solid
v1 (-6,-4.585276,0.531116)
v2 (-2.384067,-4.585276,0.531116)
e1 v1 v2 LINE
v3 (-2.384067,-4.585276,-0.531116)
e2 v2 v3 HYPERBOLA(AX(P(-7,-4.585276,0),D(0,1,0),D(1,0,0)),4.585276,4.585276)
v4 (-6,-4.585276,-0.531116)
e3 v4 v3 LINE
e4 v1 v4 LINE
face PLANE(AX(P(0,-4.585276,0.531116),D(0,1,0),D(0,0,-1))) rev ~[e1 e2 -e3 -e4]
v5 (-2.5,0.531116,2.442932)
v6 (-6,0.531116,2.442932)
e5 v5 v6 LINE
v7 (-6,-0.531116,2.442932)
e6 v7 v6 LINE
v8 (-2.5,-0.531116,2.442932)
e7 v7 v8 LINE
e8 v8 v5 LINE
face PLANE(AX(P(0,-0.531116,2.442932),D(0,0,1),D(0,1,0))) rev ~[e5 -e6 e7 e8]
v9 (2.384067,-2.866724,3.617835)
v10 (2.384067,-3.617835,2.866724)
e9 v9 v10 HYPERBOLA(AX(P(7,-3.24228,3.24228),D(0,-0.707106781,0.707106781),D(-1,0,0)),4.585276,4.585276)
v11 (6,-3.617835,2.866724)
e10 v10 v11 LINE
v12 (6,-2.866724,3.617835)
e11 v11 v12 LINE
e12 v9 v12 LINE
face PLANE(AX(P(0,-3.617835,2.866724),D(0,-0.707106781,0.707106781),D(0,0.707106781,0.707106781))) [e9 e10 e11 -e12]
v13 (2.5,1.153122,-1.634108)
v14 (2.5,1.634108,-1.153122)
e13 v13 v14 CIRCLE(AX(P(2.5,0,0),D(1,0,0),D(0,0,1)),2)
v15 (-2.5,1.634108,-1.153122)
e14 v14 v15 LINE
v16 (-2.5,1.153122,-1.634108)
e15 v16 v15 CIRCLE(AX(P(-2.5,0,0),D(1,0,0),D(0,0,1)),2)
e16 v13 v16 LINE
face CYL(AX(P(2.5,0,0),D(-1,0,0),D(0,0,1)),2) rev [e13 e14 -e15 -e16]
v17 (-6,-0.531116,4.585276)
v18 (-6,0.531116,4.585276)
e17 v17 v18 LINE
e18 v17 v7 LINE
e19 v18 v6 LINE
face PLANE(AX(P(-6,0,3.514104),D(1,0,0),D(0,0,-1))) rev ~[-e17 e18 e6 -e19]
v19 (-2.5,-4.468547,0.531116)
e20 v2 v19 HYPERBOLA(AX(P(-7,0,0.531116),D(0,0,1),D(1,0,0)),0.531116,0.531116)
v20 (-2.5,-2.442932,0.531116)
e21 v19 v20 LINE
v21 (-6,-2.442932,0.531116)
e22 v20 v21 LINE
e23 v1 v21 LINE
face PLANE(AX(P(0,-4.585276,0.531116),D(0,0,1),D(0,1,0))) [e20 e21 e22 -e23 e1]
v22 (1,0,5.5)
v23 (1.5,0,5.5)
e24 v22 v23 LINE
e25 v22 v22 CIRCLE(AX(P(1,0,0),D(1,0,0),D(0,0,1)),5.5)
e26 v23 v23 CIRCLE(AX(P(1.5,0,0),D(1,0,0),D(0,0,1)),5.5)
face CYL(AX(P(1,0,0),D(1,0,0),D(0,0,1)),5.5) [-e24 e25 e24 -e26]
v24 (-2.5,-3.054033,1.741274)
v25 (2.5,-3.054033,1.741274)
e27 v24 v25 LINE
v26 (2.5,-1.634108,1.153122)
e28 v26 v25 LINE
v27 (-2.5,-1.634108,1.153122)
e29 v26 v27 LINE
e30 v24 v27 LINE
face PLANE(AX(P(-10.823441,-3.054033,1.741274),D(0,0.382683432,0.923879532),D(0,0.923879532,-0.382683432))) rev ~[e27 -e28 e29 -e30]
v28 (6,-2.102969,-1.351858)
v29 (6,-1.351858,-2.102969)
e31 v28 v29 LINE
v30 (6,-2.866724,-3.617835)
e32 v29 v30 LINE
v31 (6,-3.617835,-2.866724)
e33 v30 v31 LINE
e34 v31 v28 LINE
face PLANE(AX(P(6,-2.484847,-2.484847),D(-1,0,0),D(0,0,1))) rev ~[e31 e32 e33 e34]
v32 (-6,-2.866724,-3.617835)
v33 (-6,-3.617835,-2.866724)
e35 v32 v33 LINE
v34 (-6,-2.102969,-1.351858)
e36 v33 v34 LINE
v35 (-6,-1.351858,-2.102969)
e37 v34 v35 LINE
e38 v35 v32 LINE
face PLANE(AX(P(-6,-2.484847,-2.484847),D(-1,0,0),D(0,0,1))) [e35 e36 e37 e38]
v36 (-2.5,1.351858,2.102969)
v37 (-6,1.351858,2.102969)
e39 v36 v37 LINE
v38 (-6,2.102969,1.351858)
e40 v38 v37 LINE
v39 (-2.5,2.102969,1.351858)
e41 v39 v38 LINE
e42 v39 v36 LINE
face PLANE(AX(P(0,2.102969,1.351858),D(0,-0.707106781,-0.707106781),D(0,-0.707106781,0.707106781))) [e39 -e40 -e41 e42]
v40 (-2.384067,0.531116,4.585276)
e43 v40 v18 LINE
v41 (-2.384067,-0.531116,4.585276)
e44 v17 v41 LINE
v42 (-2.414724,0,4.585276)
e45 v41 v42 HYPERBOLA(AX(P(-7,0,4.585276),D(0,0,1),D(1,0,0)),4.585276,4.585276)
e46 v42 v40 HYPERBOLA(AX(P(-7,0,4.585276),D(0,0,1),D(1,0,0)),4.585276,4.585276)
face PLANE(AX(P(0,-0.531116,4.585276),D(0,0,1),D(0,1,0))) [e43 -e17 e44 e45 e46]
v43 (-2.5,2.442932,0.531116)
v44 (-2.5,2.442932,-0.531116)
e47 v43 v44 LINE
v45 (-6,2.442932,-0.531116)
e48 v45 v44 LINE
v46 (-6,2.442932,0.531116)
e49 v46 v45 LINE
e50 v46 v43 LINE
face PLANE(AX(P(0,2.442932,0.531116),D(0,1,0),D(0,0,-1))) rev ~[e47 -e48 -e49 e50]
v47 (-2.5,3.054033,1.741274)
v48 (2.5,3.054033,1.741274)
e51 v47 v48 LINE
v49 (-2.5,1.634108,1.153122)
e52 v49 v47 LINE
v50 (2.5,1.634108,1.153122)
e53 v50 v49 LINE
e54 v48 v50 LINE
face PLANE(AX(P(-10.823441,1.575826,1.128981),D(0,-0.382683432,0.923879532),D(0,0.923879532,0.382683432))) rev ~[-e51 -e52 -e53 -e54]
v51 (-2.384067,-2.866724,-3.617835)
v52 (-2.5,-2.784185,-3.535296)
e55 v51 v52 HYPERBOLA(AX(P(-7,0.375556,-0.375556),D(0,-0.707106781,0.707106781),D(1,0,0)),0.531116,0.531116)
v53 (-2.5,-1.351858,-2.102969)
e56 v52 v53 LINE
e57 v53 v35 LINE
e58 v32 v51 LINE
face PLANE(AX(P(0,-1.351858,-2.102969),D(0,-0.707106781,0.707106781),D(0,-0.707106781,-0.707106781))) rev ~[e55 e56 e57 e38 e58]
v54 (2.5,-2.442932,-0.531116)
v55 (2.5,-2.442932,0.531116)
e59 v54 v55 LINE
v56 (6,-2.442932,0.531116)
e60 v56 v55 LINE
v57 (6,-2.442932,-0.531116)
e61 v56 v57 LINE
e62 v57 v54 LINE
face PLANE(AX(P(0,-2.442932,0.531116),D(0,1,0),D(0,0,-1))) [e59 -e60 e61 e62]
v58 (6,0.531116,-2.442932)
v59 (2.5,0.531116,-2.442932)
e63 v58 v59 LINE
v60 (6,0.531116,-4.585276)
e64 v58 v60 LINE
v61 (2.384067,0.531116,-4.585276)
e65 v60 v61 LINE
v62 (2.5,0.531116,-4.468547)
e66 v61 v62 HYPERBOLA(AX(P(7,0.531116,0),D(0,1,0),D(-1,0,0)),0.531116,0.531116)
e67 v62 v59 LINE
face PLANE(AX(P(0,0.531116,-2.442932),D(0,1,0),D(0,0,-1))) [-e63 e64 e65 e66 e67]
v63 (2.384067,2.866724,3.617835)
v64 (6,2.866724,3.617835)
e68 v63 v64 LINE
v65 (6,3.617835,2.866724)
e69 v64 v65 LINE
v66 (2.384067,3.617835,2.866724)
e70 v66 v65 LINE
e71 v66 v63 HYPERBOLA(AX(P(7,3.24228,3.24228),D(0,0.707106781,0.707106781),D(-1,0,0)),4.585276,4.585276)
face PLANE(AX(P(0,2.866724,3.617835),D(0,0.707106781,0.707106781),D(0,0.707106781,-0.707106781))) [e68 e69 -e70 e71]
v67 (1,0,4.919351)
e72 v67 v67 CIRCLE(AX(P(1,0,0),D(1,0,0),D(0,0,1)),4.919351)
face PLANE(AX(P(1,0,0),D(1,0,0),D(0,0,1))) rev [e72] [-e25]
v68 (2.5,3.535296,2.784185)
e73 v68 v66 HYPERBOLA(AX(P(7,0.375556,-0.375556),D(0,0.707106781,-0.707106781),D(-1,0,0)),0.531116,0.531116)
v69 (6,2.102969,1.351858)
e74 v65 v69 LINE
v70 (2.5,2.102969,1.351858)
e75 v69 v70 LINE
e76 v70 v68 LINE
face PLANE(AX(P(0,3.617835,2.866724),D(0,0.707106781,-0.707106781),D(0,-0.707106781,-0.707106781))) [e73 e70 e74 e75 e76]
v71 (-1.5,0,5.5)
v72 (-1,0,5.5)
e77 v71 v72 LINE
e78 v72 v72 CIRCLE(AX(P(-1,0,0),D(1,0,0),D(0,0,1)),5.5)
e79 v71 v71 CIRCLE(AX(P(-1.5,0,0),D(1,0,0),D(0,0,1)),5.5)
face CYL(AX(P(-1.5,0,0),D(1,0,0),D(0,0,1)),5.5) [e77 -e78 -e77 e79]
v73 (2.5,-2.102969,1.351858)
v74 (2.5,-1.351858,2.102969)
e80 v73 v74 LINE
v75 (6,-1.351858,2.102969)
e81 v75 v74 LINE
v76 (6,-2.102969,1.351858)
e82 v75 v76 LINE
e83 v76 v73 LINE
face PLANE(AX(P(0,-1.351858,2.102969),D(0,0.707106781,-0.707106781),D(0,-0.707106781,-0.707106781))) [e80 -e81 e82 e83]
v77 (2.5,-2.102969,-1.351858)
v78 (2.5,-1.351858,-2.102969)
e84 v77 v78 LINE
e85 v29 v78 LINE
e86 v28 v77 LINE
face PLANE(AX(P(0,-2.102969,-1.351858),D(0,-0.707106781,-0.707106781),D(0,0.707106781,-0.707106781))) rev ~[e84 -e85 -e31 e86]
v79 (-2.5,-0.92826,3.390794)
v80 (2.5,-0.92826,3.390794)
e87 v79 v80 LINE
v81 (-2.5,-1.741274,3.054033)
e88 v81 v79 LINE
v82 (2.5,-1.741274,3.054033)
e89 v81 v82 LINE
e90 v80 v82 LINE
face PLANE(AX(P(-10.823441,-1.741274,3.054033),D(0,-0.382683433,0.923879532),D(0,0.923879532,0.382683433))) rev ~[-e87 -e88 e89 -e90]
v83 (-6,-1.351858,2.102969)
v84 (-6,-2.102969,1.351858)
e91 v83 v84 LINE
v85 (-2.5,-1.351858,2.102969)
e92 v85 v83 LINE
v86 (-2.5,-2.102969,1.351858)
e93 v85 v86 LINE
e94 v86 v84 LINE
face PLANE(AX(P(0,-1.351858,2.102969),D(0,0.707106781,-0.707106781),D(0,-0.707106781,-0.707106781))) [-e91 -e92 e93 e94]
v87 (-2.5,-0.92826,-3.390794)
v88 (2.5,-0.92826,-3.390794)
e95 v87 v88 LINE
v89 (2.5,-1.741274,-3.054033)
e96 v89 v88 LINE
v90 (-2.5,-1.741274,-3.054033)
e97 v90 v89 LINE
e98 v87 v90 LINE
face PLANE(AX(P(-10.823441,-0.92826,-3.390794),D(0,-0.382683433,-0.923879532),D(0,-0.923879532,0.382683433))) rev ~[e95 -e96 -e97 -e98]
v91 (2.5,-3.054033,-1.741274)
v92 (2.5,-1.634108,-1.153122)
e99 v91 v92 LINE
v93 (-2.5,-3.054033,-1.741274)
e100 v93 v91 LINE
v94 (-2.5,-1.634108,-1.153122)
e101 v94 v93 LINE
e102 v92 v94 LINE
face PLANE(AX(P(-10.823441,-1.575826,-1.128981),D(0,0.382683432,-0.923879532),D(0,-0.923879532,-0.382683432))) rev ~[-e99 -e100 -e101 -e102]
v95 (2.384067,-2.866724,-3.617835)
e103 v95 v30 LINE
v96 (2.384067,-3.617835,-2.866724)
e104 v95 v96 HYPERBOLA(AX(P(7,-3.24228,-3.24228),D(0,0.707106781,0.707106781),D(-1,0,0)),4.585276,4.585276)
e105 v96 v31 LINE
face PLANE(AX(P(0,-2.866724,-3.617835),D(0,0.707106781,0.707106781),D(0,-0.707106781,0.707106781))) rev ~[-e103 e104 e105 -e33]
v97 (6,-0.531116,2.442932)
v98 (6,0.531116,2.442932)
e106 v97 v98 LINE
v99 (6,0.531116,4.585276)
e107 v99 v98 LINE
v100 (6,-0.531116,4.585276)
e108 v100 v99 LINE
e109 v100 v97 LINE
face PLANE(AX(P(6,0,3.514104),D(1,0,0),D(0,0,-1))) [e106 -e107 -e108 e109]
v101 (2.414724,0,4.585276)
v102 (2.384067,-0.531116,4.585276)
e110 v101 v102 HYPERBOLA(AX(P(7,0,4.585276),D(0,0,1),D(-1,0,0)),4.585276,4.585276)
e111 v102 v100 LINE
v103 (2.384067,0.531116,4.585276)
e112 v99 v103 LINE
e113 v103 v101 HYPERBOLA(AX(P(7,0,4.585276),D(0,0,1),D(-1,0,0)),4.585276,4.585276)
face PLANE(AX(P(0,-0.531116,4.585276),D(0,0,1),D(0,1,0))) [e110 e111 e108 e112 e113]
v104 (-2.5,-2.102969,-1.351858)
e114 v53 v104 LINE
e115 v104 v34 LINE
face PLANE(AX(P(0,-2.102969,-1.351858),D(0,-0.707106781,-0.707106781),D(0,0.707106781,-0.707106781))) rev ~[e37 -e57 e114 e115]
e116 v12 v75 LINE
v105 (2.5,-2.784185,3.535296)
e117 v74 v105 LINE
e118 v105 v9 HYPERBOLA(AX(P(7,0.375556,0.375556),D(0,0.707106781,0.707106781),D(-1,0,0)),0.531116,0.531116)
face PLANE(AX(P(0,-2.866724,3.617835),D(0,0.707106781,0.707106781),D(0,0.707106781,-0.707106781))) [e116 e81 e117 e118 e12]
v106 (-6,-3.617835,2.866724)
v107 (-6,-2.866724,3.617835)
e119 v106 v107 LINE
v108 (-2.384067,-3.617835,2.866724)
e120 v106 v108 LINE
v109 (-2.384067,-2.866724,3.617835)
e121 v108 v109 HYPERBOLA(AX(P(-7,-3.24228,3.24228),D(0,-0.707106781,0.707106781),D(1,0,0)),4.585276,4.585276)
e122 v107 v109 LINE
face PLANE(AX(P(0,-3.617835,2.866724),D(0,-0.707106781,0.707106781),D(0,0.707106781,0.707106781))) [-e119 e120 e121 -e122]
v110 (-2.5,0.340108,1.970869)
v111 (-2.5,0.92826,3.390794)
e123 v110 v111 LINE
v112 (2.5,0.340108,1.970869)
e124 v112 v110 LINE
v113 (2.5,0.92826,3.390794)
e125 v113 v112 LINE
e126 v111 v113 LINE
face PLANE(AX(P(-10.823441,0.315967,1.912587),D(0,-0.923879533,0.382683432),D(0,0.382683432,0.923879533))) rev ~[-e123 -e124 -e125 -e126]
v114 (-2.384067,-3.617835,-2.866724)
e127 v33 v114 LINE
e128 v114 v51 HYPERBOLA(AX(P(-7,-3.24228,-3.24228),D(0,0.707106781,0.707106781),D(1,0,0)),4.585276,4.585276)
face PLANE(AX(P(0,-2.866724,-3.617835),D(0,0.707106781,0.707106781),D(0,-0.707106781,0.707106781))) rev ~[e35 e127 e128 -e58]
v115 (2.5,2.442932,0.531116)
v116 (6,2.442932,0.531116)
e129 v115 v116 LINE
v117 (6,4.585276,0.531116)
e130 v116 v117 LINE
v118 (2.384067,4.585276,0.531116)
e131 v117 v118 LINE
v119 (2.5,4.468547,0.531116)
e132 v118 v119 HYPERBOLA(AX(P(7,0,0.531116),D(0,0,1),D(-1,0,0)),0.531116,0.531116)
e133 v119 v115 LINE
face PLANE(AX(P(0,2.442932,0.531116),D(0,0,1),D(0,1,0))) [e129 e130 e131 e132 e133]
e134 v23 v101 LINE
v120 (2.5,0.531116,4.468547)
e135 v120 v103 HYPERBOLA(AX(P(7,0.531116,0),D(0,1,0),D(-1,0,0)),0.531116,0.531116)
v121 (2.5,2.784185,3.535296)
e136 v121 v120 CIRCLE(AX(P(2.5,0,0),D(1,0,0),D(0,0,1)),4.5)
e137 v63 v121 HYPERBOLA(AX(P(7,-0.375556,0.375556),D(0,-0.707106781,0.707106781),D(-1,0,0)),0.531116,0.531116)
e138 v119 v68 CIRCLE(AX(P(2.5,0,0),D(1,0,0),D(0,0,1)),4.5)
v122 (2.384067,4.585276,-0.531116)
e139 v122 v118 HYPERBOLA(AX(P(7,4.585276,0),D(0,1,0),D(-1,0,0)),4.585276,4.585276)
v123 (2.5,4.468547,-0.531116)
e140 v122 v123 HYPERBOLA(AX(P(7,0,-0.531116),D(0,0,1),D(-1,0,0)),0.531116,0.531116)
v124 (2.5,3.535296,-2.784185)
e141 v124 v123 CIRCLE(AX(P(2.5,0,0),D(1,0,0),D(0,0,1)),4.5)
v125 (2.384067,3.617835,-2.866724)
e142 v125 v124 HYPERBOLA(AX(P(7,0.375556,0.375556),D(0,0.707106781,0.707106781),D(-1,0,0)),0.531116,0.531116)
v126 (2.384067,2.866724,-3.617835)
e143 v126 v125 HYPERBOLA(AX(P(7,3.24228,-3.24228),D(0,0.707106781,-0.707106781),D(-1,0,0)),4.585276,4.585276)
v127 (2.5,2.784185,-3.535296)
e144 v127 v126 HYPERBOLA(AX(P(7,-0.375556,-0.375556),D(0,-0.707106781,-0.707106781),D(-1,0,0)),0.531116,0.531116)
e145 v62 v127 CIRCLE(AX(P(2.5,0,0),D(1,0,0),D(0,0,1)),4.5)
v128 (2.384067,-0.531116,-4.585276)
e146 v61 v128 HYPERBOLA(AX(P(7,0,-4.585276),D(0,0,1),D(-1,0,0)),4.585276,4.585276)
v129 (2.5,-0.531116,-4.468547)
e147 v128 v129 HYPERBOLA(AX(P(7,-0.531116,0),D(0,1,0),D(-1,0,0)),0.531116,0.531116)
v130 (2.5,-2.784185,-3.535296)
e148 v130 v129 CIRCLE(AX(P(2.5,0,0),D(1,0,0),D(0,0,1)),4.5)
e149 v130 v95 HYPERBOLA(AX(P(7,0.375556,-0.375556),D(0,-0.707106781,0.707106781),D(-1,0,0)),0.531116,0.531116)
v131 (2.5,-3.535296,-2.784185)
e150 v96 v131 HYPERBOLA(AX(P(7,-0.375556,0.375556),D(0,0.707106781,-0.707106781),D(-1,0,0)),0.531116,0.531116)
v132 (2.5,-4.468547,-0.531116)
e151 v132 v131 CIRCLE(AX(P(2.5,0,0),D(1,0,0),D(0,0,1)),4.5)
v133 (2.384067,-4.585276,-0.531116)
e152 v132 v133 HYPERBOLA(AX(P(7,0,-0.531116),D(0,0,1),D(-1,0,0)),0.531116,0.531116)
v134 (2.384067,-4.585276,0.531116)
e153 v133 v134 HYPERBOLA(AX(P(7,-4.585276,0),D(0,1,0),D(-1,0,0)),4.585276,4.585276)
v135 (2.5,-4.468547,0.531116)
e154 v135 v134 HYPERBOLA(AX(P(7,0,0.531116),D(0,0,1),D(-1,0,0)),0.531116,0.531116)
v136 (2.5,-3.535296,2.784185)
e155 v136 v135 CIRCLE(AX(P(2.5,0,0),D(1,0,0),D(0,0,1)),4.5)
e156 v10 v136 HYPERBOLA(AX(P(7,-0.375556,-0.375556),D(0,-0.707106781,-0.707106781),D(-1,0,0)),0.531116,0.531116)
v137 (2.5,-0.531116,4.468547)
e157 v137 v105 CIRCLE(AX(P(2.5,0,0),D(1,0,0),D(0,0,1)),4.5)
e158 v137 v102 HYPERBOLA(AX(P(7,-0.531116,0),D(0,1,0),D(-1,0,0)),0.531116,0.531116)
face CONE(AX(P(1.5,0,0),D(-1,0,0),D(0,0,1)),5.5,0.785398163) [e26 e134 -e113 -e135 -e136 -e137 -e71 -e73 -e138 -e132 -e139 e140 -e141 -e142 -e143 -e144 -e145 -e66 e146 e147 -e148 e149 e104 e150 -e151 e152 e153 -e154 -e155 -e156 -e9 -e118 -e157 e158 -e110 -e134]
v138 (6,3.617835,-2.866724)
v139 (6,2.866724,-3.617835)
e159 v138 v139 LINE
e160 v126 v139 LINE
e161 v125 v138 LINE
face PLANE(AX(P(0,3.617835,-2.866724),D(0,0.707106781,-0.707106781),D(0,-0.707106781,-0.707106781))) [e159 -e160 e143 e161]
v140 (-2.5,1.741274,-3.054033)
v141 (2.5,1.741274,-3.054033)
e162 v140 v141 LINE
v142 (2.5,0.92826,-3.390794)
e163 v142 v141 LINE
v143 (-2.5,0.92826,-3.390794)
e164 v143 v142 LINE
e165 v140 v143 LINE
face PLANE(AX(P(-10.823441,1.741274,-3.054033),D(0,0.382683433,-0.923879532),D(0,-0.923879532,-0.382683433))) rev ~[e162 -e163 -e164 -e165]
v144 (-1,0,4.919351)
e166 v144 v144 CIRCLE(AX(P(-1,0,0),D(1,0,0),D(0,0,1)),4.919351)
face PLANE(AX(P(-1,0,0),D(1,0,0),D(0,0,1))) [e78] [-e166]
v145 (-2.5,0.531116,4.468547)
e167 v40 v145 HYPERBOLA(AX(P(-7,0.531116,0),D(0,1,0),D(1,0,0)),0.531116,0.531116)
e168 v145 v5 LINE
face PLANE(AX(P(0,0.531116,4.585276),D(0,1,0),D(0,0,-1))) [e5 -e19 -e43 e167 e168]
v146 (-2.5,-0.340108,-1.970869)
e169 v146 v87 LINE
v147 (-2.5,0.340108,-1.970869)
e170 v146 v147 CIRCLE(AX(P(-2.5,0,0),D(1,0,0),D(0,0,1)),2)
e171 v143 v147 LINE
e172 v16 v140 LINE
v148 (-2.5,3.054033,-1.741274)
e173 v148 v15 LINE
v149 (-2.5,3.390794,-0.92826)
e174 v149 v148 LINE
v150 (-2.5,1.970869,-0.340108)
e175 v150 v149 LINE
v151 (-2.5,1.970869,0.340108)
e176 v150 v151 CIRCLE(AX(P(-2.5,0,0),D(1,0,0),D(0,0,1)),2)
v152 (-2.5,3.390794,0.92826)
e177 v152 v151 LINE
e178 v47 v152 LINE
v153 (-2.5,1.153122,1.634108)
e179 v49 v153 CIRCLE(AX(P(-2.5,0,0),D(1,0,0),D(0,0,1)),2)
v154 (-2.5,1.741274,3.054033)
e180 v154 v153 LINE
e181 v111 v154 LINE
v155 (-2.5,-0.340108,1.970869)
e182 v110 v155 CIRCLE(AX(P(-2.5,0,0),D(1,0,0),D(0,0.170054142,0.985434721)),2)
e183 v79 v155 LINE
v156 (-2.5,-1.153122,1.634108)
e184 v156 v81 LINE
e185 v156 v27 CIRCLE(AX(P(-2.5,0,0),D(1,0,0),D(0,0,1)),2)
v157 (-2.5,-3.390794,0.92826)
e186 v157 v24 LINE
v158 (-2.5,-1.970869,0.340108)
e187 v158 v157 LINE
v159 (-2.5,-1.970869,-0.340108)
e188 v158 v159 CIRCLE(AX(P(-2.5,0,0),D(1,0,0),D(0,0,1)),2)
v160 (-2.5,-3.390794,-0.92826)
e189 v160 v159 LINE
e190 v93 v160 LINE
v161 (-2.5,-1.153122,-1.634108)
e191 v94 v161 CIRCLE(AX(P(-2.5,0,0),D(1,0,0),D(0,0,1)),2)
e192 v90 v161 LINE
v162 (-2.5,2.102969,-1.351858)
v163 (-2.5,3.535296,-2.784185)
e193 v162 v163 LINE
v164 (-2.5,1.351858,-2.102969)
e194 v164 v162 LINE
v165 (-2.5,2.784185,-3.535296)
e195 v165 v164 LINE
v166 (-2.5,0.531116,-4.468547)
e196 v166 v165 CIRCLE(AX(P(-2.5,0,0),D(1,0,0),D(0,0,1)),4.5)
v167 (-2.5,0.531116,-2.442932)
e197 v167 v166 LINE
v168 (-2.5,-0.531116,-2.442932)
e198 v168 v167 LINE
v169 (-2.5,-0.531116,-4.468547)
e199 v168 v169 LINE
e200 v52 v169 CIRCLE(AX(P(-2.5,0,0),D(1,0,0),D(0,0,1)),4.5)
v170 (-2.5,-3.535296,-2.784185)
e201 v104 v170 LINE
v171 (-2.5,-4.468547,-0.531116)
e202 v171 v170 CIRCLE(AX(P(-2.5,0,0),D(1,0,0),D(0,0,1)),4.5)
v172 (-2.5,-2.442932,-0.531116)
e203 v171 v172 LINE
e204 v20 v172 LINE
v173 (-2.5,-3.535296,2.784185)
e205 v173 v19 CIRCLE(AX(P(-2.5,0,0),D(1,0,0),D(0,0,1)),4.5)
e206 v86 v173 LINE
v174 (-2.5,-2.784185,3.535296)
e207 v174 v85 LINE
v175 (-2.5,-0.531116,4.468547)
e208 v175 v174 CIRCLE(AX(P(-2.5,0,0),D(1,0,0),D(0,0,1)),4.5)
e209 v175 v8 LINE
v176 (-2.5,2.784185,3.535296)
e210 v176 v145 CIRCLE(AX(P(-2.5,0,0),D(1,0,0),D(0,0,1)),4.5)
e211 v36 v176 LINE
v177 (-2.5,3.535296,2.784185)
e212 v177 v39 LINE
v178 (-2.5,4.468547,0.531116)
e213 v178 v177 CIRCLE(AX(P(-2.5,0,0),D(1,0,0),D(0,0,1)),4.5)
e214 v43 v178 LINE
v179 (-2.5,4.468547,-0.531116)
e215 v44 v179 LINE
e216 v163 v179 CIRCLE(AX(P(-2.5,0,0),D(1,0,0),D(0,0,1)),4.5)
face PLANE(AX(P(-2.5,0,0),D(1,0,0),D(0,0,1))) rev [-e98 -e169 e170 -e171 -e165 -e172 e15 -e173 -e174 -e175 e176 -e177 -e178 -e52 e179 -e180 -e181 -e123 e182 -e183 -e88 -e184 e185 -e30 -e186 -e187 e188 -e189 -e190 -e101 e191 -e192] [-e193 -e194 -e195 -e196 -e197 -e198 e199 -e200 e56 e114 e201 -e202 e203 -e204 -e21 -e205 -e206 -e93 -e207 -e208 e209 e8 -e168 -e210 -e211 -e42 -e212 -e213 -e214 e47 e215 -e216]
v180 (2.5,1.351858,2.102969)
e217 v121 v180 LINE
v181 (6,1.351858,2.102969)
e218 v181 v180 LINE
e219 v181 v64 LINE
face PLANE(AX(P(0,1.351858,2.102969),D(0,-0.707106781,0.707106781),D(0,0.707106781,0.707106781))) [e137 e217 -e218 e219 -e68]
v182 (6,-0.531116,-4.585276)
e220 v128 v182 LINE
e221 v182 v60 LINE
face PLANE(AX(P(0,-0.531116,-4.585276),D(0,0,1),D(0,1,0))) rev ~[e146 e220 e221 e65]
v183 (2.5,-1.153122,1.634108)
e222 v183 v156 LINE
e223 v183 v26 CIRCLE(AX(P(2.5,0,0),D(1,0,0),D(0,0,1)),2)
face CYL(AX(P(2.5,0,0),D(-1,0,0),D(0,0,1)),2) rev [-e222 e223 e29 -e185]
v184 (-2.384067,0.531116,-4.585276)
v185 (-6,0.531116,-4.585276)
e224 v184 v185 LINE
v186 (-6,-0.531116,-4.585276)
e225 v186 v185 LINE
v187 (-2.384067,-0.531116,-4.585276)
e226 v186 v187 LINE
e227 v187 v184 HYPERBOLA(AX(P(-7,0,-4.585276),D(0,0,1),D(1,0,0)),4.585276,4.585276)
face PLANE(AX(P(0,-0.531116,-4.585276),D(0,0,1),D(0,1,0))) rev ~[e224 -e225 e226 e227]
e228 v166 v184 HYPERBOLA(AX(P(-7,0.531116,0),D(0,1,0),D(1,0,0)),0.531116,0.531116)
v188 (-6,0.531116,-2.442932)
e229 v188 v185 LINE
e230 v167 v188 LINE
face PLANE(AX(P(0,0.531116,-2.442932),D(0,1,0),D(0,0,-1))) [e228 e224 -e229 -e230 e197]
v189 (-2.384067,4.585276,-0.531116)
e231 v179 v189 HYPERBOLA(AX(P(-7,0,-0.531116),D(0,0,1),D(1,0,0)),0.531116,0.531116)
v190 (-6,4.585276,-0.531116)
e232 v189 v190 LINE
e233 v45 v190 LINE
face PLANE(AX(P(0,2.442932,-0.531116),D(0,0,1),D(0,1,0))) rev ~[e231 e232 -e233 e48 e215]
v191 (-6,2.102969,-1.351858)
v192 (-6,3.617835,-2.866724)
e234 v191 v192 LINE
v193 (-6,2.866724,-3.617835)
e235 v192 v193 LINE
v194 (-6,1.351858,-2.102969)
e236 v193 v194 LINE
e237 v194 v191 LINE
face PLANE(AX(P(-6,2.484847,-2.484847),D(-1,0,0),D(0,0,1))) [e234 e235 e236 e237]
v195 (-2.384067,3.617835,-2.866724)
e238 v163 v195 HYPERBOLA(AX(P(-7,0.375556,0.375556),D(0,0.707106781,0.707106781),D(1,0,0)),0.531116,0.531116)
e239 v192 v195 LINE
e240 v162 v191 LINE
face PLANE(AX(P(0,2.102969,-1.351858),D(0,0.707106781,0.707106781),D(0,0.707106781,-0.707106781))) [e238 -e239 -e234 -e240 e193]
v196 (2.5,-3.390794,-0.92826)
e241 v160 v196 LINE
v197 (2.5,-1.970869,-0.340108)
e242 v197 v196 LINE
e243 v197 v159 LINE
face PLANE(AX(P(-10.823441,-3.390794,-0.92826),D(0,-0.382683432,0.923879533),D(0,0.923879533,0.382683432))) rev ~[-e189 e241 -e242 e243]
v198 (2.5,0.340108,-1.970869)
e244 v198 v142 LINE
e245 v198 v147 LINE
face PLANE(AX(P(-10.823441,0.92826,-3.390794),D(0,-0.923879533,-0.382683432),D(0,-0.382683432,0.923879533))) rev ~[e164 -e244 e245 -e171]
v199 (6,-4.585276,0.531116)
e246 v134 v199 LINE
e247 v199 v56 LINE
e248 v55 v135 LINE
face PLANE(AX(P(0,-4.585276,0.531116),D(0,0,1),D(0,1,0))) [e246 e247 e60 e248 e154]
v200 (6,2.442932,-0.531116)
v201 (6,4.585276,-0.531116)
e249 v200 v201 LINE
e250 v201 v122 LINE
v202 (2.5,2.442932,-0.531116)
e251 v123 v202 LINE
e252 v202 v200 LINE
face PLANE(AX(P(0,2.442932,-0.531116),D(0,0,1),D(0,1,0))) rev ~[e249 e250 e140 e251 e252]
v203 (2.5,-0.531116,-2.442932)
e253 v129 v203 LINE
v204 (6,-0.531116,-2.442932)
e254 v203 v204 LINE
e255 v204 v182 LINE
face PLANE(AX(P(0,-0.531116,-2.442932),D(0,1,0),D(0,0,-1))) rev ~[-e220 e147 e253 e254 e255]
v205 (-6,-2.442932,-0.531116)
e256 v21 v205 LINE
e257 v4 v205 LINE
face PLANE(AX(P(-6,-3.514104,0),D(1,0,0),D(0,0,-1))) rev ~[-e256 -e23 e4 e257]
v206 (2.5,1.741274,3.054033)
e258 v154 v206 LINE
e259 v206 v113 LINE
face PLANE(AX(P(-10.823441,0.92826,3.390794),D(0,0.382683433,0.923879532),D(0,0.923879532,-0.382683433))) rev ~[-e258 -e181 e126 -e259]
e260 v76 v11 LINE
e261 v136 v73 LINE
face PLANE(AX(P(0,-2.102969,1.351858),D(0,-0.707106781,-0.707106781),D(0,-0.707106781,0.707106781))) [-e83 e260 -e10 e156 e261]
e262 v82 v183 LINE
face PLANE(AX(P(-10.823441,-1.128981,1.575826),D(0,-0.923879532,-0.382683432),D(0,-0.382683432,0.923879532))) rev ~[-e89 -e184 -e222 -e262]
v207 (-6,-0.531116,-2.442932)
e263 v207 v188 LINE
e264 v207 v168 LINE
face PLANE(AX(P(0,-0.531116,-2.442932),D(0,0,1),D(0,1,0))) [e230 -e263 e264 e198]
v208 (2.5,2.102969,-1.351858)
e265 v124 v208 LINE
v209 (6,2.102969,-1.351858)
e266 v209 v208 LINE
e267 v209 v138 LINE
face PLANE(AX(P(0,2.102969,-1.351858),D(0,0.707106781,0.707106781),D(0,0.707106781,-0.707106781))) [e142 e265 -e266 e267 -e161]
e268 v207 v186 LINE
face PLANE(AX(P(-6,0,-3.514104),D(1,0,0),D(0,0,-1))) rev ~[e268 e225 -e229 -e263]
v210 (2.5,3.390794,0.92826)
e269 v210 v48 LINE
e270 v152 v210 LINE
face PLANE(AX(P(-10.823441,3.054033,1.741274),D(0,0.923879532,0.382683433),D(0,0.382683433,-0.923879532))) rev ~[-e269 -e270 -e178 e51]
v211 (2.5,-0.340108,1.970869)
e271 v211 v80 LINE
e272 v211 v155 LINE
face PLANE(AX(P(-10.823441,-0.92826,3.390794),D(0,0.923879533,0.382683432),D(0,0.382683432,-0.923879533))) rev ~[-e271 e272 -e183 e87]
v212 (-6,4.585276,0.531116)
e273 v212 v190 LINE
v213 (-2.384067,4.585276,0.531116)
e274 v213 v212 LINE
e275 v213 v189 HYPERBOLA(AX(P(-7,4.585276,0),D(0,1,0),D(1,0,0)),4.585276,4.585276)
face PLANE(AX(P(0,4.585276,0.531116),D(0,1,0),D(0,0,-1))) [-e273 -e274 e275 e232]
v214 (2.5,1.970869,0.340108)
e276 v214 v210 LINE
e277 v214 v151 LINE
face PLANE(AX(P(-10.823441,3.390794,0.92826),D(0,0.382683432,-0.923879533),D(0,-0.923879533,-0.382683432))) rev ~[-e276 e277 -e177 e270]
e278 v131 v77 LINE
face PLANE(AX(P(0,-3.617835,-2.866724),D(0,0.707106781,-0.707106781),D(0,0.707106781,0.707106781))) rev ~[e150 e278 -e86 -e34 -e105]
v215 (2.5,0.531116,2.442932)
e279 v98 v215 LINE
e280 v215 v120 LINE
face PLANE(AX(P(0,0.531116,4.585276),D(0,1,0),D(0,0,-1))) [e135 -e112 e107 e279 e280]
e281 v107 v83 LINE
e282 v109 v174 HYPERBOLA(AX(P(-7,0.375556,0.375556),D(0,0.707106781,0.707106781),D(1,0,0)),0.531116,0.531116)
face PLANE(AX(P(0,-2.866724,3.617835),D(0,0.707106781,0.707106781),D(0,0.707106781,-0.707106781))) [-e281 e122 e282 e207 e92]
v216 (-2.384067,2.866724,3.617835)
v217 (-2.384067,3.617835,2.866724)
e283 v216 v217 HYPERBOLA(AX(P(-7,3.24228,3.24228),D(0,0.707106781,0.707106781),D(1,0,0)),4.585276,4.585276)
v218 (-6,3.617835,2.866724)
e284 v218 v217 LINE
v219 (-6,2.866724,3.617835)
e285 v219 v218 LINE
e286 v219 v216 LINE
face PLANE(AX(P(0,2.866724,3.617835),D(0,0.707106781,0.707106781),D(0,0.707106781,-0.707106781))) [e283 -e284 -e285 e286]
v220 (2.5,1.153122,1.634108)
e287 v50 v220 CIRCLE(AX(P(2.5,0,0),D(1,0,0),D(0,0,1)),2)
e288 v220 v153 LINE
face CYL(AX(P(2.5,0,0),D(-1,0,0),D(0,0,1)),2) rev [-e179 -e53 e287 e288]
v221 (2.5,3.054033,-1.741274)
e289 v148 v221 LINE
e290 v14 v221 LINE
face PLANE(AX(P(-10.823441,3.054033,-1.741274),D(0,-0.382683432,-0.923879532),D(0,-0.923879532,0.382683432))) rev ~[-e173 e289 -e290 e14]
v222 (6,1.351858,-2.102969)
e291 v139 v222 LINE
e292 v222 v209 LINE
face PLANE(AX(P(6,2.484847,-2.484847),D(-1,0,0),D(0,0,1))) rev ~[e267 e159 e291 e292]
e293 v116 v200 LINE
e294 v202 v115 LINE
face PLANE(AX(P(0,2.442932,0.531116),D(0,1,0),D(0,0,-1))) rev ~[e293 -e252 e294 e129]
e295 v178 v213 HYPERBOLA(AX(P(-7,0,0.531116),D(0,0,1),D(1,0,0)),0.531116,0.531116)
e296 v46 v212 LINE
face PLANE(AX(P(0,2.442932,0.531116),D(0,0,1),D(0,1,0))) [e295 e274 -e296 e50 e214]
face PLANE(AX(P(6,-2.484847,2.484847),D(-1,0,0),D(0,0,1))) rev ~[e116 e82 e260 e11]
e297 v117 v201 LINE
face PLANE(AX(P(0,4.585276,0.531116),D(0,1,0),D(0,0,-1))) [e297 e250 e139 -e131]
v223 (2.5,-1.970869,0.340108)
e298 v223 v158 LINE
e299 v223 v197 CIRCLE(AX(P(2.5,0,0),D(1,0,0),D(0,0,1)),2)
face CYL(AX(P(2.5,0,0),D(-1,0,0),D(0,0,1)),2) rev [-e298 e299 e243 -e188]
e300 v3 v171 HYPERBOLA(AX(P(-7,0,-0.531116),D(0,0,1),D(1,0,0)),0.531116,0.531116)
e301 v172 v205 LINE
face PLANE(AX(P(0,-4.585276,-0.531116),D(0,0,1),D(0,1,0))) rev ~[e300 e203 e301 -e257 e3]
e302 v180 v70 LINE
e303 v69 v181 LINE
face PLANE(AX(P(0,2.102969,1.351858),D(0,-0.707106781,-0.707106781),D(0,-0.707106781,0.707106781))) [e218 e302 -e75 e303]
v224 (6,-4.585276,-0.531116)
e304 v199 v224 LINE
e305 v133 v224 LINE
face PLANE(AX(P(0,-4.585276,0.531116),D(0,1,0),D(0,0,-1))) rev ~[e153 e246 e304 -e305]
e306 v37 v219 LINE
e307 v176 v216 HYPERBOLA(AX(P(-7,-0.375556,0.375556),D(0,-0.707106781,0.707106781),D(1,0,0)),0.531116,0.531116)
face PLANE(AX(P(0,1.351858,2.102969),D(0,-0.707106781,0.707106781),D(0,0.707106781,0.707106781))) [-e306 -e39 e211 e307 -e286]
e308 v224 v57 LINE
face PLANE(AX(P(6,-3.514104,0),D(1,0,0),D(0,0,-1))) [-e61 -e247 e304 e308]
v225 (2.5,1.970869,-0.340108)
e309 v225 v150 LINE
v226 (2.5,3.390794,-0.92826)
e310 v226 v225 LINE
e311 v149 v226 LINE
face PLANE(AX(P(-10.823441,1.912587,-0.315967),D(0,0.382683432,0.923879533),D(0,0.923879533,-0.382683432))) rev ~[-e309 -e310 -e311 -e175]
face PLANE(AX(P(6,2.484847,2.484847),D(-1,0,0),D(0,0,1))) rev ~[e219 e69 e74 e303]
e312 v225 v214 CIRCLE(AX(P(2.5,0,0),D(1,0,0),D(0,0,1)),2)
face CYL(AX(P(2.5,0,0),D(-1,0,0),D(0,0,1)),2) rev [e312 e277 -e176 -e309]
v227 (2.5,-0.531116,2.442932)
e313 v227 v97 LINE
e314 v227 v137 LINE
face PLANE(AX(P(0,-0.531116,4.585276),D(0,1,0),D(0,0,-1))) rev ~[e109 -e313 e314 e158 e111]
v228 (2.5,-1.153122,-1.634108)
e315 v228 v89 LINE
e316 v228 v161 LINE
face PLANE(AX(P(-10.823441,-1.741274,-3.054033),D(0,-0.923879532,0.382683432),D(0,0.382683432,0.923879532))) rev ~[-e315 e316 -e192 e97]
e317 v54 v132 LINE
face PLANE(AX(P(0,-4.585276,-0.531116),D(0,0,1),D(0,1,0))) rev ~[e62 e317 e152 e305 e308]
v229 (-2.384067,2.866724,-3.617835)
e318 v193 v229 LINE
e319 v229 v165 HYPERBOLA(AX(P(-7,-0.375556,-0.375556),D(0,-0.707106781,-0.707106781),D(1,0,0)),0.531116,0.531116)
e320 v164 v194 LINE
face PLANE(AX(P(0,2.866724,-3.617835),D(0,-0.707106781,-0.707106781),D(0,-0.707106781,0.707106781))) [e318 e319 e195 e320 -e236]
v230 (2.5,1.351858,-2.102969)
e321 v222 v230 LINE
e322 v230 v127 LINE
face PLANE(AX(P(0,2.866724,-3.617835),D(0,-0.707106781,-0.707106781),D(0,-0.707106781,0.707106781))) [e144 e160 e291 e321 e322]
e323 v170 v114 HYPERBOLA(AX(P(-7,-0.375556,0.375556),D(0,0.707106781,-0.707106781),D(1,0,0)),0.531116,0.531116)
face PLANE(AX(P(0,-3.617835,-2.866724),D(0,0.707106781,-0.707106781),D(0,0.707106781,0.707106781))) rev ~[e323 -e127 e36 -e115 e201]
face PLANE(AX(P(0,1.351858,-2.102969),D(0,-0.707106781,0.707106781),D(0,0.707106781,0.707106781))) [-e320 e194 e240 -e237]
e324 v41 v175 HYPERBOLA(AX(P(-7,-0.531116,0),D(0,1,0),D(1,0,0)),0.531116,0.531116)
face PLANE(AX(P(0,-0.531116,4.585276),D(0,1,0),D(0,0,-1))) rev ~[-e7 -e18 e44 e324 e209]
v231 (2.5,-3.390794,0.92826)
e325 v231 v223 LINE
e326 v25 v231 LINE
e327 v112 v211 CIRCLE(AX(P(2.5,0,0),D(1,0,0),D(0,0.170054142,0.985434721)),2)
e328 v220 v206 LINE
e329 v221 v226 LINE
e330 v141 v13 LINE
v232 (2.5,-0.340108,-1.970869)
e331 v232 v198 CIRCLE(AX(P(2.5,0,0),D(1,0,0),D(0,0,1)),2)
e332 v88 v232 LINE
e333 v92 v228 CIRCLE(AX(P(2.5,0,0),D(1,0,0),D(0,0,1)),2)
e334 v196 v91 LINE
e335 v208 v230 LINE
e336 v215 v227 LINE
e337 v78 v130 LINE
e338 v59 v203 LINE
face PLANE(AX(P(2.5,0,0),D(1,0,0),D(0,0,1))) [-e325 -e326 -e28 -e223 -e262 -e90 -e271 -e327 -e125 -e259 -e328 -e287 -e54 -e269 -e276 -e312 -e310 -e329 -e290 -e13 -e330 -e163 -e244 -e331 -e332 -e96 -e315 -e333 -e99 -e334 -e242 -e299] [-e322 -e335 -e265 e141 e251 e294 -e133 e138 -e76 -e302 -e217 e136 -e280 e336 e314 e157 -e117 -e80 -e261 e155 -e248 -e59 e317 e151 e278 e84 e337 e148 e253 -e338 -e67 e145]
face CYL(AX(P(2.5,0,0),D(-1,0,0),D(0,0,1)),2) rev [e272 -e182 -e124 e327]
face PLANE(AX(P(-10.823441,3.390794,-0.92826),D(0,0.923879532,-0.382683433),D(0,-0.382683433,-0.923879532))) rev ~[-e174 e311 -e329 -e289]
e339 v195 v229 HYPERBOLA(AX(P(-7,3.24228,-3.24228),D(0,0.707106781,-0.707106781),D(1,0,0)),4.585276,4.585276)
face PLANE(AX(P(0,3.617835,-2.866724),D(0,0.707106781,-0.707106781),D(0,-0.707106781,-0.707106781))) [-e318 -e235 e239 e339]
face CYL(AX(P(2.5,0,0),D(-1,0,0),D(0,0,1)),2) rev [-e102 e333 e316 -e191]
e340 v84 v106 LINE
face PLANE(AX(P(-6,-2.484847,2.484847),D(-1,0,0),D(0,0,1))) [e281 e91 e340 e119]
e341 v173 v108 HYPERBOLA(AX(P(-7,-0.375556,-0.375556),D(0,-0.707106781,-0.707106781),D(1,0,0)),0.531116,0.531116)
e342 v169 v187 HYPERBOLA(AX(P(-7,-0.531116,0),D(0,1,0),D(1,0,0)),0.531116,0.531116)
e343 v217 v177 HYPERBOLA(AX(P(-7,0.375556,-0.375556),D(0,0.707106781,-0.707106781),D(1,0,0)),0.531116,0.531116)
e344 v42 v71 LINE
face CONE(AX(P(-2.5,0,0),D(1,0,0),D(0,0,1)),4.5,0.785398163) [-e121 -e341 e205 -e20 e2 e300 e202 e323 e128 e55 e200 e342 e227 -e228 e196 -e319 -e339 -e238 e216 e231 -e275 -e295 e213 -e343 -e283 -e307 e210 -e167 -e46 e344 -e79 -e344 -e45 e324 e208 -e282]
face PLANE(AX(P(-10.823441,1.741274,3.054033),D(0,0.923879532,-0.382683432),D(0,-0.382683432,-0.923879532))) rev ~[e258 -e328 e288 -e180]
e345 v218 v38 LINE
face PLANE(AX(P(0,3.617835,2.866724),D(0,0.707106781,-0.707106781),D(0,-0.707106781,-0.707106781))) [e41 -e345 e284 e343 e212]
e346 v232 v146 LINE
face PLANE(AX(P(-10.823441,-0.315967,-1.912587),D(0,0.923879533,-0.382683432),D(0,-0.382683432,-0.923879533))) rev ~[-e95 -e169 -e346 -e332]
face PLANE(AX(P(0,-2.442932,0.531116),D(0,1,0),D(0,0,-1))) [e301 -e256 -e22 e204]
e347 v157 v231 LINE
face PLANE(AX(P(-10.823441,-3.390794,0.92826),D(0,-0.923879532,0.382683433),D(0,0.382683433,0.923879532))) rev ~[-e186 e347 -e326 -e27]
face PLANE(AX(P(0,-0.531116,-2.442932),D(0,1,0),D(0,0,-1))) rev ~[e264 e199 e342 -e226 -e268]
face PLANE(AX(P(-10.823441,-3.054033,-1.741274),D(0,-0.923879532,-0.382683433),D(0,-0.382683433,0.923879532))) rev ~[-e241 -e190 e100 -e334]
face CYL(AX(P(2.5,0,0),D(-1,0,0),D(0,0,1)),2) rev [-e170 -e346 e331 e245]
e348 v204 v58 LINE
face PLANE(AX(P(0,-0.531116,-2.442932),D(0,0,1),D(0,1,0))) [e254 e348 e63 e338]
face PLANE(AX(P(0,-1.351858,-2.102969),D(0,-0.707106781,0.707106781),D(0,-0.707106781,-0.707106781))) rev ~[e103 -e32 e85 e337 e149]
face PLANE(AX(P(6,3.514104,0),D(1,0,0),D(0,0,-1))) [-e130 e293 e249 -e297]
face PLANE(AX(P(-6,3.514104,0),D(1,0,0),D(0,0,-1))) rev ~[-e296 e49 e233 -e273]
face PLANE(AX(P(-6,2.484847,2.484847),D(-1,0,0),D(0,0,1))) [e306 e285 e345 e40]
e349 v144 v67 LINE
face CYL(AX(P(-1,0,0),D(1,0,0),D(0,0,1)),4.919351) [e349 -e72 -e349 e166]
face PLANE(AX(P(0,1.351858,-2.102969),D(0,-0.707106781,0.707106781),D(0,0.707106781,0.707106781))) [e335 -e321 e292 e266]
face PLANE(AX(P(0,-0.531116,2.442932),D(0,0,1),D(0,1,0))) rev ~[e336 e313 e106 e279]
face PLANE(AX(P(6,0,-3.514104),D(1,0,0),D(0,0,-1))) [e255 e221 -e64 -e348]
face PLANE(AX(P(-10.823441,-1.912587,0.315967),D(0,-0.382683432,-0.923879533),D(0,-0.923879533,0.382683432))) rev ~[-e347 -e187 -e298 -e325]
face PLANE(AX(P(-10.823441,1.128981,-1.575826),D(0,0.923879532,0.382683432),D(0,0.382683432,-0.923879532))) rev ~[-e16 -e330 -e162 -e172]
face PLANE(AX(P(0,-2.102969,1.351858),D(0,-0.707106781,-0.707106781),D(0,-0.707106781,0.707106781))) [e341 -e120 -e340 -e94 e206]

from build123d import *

# Parameters (mm, degrees)
SKETCH1_W               = 1.062231574
SKETCH1_H               = 2.14234413
SKETCH1_W_2             = 2.14234413
SKETCH1_H_2             = 1.062231574
BOSS_EXTRUDE3_DEPTH     = 6
CUT_EXTRUDE1_DEPTH      = 10.823441352
CUT_EXTRUDE1_DEPTH_BACK = 10.823441352


with BuildPart() as part:
    # Sketch3 → Revolve1 (revolve)
    with BuildSketch(Plane(origin=(0, 0, 0), x_dir=(1, 0, 0), z_dir=(0, 1, 0)), mode=Mode.PRIVATE) as revolve1_sk:
        Polygon((1, 5.5), (1.5, 5.5), (2.5, 4.5), (2.5, 2), (-2.5, 2), (-2.5, 4.5), (-1.5, 5.5), (-1, 5.5), (-1, 4.919351403), (1, 4.919351403), align=None)
    revolve(revolve1_sk.sketch.rotate(Axis((0, 0, 0), (1, 0, 0)), 180), axis=Axis((0, 0, 0), (1, 0, 0)))

    # Sketch1 → Boss-Extrude3 (add, symmetric)
    with BuildSketch(Plane(origin=(0, 0, 0), x_dir=(0, 0, -1), z_dir=(1, 0, 0))):
        Polygon((-3.617835313, -2.866724163), (-2.102969252, -1.351858102), (-1.351858102, -2.102969252), (-2.866724163, -3.617835313), align=None)
        with Locations((0, -3.514103914)):
            Rectangle(SKETCH1_W, SKETCH1_H)
        with Locations((-3.514103914, 0)):
            Rectangle(SKETCH1_W_2, SKETCH1_H_2)
        Polygon((-2.866724163, 3.617835313), (-1.351858102, 2.102969252), (-2.102969252, 1.351858102), (-3.617835313, 2.866724163), align=None)
        with Locations((0, 3.514103914)):
            Rectangle(SKETCH1_W, SKETCH1_H)
        Polygon((3.617835313, 2.866724163), (2.102969252, 1.351858102), (1.351858102, 2.102969252), (2.866724163, 3.617835313), align=None)
        with Locations((3.514103914, 0)):
            Rectangle(SKETCH1_W_2, SKETCH1_H_2)
        Polygon((2.866724163, -3.617835313), (1.351858102, -2.102969252), (2.102969252, -1.351858102), (3.617835313, -2.866724163), align=None)
    extrude(amount=BOSS_EXTRUDE3_DEPTH, both=True)

    # Sketch4 → Cut-Extrude1 (cut, two sides: drawn at the far end of the back side and taken through both)
    with BuildSketch(Plane(origin=(0, 0, 0), x_dir=(0, 0, -1), z_dir=(1, 0, 0)).offset(-CUT_EXTRUDE1_DEPTH_BACK)):
        Polygon((1.741274388, 3.054032834), (1.128980896, 1.575825582), (0.315966908, 1.912587003), (0.928260399, 3.390794255), align=None)
        Polygon((3.390794255, 0.928260399), (1.912587003, 0.315966908), (1.575825582, 1.128980896), (3.054032834, 1.741274388), align=None)
        Polygon((3.054032834, -1.741274388), (1.575825582, -1.128980896), (1.912587003, -0.315966908), (3.390794255, -0.928260399), align=None)
        Polygon((0.928260399, -3.390794255), (0.315966908, -1.912587003), (1.128980896, -1.575825582), (1.741274388, -3.054032834), align=None)
        Polygon((-1.741274388, -3.054032834), (-1.128980896, -1.575825582), (-0.315966908, -1.912587003), (-0.928260399, -3.390794255), align=None)
        Polygon((-3.390794255, -0.928260399), (-1.912587003, -0.315966908), (-1.575825582, -1.128980896), (-3.054032834, -1.741274388), align=None)
        Polygon((-3.054032834, 1.741274388), (-1.575825582, 1.128980896), (-1.912587003, 0.315966908), (-3.390794255, 0.928260399), align=None)
        Polygon((-0.928260399, 3.390794255), (-0.315966908, 1.912587003), (-1.128980896, 1.575825582), (-1.741274388, 3.054032834), align=None)
    extrude(amount=CUT_EXTRUDE1_DEPTH + CUT_EXTRUDE1_DEPTH_BACK, mode=Mode.SUBTRACT)


solid = part.part
